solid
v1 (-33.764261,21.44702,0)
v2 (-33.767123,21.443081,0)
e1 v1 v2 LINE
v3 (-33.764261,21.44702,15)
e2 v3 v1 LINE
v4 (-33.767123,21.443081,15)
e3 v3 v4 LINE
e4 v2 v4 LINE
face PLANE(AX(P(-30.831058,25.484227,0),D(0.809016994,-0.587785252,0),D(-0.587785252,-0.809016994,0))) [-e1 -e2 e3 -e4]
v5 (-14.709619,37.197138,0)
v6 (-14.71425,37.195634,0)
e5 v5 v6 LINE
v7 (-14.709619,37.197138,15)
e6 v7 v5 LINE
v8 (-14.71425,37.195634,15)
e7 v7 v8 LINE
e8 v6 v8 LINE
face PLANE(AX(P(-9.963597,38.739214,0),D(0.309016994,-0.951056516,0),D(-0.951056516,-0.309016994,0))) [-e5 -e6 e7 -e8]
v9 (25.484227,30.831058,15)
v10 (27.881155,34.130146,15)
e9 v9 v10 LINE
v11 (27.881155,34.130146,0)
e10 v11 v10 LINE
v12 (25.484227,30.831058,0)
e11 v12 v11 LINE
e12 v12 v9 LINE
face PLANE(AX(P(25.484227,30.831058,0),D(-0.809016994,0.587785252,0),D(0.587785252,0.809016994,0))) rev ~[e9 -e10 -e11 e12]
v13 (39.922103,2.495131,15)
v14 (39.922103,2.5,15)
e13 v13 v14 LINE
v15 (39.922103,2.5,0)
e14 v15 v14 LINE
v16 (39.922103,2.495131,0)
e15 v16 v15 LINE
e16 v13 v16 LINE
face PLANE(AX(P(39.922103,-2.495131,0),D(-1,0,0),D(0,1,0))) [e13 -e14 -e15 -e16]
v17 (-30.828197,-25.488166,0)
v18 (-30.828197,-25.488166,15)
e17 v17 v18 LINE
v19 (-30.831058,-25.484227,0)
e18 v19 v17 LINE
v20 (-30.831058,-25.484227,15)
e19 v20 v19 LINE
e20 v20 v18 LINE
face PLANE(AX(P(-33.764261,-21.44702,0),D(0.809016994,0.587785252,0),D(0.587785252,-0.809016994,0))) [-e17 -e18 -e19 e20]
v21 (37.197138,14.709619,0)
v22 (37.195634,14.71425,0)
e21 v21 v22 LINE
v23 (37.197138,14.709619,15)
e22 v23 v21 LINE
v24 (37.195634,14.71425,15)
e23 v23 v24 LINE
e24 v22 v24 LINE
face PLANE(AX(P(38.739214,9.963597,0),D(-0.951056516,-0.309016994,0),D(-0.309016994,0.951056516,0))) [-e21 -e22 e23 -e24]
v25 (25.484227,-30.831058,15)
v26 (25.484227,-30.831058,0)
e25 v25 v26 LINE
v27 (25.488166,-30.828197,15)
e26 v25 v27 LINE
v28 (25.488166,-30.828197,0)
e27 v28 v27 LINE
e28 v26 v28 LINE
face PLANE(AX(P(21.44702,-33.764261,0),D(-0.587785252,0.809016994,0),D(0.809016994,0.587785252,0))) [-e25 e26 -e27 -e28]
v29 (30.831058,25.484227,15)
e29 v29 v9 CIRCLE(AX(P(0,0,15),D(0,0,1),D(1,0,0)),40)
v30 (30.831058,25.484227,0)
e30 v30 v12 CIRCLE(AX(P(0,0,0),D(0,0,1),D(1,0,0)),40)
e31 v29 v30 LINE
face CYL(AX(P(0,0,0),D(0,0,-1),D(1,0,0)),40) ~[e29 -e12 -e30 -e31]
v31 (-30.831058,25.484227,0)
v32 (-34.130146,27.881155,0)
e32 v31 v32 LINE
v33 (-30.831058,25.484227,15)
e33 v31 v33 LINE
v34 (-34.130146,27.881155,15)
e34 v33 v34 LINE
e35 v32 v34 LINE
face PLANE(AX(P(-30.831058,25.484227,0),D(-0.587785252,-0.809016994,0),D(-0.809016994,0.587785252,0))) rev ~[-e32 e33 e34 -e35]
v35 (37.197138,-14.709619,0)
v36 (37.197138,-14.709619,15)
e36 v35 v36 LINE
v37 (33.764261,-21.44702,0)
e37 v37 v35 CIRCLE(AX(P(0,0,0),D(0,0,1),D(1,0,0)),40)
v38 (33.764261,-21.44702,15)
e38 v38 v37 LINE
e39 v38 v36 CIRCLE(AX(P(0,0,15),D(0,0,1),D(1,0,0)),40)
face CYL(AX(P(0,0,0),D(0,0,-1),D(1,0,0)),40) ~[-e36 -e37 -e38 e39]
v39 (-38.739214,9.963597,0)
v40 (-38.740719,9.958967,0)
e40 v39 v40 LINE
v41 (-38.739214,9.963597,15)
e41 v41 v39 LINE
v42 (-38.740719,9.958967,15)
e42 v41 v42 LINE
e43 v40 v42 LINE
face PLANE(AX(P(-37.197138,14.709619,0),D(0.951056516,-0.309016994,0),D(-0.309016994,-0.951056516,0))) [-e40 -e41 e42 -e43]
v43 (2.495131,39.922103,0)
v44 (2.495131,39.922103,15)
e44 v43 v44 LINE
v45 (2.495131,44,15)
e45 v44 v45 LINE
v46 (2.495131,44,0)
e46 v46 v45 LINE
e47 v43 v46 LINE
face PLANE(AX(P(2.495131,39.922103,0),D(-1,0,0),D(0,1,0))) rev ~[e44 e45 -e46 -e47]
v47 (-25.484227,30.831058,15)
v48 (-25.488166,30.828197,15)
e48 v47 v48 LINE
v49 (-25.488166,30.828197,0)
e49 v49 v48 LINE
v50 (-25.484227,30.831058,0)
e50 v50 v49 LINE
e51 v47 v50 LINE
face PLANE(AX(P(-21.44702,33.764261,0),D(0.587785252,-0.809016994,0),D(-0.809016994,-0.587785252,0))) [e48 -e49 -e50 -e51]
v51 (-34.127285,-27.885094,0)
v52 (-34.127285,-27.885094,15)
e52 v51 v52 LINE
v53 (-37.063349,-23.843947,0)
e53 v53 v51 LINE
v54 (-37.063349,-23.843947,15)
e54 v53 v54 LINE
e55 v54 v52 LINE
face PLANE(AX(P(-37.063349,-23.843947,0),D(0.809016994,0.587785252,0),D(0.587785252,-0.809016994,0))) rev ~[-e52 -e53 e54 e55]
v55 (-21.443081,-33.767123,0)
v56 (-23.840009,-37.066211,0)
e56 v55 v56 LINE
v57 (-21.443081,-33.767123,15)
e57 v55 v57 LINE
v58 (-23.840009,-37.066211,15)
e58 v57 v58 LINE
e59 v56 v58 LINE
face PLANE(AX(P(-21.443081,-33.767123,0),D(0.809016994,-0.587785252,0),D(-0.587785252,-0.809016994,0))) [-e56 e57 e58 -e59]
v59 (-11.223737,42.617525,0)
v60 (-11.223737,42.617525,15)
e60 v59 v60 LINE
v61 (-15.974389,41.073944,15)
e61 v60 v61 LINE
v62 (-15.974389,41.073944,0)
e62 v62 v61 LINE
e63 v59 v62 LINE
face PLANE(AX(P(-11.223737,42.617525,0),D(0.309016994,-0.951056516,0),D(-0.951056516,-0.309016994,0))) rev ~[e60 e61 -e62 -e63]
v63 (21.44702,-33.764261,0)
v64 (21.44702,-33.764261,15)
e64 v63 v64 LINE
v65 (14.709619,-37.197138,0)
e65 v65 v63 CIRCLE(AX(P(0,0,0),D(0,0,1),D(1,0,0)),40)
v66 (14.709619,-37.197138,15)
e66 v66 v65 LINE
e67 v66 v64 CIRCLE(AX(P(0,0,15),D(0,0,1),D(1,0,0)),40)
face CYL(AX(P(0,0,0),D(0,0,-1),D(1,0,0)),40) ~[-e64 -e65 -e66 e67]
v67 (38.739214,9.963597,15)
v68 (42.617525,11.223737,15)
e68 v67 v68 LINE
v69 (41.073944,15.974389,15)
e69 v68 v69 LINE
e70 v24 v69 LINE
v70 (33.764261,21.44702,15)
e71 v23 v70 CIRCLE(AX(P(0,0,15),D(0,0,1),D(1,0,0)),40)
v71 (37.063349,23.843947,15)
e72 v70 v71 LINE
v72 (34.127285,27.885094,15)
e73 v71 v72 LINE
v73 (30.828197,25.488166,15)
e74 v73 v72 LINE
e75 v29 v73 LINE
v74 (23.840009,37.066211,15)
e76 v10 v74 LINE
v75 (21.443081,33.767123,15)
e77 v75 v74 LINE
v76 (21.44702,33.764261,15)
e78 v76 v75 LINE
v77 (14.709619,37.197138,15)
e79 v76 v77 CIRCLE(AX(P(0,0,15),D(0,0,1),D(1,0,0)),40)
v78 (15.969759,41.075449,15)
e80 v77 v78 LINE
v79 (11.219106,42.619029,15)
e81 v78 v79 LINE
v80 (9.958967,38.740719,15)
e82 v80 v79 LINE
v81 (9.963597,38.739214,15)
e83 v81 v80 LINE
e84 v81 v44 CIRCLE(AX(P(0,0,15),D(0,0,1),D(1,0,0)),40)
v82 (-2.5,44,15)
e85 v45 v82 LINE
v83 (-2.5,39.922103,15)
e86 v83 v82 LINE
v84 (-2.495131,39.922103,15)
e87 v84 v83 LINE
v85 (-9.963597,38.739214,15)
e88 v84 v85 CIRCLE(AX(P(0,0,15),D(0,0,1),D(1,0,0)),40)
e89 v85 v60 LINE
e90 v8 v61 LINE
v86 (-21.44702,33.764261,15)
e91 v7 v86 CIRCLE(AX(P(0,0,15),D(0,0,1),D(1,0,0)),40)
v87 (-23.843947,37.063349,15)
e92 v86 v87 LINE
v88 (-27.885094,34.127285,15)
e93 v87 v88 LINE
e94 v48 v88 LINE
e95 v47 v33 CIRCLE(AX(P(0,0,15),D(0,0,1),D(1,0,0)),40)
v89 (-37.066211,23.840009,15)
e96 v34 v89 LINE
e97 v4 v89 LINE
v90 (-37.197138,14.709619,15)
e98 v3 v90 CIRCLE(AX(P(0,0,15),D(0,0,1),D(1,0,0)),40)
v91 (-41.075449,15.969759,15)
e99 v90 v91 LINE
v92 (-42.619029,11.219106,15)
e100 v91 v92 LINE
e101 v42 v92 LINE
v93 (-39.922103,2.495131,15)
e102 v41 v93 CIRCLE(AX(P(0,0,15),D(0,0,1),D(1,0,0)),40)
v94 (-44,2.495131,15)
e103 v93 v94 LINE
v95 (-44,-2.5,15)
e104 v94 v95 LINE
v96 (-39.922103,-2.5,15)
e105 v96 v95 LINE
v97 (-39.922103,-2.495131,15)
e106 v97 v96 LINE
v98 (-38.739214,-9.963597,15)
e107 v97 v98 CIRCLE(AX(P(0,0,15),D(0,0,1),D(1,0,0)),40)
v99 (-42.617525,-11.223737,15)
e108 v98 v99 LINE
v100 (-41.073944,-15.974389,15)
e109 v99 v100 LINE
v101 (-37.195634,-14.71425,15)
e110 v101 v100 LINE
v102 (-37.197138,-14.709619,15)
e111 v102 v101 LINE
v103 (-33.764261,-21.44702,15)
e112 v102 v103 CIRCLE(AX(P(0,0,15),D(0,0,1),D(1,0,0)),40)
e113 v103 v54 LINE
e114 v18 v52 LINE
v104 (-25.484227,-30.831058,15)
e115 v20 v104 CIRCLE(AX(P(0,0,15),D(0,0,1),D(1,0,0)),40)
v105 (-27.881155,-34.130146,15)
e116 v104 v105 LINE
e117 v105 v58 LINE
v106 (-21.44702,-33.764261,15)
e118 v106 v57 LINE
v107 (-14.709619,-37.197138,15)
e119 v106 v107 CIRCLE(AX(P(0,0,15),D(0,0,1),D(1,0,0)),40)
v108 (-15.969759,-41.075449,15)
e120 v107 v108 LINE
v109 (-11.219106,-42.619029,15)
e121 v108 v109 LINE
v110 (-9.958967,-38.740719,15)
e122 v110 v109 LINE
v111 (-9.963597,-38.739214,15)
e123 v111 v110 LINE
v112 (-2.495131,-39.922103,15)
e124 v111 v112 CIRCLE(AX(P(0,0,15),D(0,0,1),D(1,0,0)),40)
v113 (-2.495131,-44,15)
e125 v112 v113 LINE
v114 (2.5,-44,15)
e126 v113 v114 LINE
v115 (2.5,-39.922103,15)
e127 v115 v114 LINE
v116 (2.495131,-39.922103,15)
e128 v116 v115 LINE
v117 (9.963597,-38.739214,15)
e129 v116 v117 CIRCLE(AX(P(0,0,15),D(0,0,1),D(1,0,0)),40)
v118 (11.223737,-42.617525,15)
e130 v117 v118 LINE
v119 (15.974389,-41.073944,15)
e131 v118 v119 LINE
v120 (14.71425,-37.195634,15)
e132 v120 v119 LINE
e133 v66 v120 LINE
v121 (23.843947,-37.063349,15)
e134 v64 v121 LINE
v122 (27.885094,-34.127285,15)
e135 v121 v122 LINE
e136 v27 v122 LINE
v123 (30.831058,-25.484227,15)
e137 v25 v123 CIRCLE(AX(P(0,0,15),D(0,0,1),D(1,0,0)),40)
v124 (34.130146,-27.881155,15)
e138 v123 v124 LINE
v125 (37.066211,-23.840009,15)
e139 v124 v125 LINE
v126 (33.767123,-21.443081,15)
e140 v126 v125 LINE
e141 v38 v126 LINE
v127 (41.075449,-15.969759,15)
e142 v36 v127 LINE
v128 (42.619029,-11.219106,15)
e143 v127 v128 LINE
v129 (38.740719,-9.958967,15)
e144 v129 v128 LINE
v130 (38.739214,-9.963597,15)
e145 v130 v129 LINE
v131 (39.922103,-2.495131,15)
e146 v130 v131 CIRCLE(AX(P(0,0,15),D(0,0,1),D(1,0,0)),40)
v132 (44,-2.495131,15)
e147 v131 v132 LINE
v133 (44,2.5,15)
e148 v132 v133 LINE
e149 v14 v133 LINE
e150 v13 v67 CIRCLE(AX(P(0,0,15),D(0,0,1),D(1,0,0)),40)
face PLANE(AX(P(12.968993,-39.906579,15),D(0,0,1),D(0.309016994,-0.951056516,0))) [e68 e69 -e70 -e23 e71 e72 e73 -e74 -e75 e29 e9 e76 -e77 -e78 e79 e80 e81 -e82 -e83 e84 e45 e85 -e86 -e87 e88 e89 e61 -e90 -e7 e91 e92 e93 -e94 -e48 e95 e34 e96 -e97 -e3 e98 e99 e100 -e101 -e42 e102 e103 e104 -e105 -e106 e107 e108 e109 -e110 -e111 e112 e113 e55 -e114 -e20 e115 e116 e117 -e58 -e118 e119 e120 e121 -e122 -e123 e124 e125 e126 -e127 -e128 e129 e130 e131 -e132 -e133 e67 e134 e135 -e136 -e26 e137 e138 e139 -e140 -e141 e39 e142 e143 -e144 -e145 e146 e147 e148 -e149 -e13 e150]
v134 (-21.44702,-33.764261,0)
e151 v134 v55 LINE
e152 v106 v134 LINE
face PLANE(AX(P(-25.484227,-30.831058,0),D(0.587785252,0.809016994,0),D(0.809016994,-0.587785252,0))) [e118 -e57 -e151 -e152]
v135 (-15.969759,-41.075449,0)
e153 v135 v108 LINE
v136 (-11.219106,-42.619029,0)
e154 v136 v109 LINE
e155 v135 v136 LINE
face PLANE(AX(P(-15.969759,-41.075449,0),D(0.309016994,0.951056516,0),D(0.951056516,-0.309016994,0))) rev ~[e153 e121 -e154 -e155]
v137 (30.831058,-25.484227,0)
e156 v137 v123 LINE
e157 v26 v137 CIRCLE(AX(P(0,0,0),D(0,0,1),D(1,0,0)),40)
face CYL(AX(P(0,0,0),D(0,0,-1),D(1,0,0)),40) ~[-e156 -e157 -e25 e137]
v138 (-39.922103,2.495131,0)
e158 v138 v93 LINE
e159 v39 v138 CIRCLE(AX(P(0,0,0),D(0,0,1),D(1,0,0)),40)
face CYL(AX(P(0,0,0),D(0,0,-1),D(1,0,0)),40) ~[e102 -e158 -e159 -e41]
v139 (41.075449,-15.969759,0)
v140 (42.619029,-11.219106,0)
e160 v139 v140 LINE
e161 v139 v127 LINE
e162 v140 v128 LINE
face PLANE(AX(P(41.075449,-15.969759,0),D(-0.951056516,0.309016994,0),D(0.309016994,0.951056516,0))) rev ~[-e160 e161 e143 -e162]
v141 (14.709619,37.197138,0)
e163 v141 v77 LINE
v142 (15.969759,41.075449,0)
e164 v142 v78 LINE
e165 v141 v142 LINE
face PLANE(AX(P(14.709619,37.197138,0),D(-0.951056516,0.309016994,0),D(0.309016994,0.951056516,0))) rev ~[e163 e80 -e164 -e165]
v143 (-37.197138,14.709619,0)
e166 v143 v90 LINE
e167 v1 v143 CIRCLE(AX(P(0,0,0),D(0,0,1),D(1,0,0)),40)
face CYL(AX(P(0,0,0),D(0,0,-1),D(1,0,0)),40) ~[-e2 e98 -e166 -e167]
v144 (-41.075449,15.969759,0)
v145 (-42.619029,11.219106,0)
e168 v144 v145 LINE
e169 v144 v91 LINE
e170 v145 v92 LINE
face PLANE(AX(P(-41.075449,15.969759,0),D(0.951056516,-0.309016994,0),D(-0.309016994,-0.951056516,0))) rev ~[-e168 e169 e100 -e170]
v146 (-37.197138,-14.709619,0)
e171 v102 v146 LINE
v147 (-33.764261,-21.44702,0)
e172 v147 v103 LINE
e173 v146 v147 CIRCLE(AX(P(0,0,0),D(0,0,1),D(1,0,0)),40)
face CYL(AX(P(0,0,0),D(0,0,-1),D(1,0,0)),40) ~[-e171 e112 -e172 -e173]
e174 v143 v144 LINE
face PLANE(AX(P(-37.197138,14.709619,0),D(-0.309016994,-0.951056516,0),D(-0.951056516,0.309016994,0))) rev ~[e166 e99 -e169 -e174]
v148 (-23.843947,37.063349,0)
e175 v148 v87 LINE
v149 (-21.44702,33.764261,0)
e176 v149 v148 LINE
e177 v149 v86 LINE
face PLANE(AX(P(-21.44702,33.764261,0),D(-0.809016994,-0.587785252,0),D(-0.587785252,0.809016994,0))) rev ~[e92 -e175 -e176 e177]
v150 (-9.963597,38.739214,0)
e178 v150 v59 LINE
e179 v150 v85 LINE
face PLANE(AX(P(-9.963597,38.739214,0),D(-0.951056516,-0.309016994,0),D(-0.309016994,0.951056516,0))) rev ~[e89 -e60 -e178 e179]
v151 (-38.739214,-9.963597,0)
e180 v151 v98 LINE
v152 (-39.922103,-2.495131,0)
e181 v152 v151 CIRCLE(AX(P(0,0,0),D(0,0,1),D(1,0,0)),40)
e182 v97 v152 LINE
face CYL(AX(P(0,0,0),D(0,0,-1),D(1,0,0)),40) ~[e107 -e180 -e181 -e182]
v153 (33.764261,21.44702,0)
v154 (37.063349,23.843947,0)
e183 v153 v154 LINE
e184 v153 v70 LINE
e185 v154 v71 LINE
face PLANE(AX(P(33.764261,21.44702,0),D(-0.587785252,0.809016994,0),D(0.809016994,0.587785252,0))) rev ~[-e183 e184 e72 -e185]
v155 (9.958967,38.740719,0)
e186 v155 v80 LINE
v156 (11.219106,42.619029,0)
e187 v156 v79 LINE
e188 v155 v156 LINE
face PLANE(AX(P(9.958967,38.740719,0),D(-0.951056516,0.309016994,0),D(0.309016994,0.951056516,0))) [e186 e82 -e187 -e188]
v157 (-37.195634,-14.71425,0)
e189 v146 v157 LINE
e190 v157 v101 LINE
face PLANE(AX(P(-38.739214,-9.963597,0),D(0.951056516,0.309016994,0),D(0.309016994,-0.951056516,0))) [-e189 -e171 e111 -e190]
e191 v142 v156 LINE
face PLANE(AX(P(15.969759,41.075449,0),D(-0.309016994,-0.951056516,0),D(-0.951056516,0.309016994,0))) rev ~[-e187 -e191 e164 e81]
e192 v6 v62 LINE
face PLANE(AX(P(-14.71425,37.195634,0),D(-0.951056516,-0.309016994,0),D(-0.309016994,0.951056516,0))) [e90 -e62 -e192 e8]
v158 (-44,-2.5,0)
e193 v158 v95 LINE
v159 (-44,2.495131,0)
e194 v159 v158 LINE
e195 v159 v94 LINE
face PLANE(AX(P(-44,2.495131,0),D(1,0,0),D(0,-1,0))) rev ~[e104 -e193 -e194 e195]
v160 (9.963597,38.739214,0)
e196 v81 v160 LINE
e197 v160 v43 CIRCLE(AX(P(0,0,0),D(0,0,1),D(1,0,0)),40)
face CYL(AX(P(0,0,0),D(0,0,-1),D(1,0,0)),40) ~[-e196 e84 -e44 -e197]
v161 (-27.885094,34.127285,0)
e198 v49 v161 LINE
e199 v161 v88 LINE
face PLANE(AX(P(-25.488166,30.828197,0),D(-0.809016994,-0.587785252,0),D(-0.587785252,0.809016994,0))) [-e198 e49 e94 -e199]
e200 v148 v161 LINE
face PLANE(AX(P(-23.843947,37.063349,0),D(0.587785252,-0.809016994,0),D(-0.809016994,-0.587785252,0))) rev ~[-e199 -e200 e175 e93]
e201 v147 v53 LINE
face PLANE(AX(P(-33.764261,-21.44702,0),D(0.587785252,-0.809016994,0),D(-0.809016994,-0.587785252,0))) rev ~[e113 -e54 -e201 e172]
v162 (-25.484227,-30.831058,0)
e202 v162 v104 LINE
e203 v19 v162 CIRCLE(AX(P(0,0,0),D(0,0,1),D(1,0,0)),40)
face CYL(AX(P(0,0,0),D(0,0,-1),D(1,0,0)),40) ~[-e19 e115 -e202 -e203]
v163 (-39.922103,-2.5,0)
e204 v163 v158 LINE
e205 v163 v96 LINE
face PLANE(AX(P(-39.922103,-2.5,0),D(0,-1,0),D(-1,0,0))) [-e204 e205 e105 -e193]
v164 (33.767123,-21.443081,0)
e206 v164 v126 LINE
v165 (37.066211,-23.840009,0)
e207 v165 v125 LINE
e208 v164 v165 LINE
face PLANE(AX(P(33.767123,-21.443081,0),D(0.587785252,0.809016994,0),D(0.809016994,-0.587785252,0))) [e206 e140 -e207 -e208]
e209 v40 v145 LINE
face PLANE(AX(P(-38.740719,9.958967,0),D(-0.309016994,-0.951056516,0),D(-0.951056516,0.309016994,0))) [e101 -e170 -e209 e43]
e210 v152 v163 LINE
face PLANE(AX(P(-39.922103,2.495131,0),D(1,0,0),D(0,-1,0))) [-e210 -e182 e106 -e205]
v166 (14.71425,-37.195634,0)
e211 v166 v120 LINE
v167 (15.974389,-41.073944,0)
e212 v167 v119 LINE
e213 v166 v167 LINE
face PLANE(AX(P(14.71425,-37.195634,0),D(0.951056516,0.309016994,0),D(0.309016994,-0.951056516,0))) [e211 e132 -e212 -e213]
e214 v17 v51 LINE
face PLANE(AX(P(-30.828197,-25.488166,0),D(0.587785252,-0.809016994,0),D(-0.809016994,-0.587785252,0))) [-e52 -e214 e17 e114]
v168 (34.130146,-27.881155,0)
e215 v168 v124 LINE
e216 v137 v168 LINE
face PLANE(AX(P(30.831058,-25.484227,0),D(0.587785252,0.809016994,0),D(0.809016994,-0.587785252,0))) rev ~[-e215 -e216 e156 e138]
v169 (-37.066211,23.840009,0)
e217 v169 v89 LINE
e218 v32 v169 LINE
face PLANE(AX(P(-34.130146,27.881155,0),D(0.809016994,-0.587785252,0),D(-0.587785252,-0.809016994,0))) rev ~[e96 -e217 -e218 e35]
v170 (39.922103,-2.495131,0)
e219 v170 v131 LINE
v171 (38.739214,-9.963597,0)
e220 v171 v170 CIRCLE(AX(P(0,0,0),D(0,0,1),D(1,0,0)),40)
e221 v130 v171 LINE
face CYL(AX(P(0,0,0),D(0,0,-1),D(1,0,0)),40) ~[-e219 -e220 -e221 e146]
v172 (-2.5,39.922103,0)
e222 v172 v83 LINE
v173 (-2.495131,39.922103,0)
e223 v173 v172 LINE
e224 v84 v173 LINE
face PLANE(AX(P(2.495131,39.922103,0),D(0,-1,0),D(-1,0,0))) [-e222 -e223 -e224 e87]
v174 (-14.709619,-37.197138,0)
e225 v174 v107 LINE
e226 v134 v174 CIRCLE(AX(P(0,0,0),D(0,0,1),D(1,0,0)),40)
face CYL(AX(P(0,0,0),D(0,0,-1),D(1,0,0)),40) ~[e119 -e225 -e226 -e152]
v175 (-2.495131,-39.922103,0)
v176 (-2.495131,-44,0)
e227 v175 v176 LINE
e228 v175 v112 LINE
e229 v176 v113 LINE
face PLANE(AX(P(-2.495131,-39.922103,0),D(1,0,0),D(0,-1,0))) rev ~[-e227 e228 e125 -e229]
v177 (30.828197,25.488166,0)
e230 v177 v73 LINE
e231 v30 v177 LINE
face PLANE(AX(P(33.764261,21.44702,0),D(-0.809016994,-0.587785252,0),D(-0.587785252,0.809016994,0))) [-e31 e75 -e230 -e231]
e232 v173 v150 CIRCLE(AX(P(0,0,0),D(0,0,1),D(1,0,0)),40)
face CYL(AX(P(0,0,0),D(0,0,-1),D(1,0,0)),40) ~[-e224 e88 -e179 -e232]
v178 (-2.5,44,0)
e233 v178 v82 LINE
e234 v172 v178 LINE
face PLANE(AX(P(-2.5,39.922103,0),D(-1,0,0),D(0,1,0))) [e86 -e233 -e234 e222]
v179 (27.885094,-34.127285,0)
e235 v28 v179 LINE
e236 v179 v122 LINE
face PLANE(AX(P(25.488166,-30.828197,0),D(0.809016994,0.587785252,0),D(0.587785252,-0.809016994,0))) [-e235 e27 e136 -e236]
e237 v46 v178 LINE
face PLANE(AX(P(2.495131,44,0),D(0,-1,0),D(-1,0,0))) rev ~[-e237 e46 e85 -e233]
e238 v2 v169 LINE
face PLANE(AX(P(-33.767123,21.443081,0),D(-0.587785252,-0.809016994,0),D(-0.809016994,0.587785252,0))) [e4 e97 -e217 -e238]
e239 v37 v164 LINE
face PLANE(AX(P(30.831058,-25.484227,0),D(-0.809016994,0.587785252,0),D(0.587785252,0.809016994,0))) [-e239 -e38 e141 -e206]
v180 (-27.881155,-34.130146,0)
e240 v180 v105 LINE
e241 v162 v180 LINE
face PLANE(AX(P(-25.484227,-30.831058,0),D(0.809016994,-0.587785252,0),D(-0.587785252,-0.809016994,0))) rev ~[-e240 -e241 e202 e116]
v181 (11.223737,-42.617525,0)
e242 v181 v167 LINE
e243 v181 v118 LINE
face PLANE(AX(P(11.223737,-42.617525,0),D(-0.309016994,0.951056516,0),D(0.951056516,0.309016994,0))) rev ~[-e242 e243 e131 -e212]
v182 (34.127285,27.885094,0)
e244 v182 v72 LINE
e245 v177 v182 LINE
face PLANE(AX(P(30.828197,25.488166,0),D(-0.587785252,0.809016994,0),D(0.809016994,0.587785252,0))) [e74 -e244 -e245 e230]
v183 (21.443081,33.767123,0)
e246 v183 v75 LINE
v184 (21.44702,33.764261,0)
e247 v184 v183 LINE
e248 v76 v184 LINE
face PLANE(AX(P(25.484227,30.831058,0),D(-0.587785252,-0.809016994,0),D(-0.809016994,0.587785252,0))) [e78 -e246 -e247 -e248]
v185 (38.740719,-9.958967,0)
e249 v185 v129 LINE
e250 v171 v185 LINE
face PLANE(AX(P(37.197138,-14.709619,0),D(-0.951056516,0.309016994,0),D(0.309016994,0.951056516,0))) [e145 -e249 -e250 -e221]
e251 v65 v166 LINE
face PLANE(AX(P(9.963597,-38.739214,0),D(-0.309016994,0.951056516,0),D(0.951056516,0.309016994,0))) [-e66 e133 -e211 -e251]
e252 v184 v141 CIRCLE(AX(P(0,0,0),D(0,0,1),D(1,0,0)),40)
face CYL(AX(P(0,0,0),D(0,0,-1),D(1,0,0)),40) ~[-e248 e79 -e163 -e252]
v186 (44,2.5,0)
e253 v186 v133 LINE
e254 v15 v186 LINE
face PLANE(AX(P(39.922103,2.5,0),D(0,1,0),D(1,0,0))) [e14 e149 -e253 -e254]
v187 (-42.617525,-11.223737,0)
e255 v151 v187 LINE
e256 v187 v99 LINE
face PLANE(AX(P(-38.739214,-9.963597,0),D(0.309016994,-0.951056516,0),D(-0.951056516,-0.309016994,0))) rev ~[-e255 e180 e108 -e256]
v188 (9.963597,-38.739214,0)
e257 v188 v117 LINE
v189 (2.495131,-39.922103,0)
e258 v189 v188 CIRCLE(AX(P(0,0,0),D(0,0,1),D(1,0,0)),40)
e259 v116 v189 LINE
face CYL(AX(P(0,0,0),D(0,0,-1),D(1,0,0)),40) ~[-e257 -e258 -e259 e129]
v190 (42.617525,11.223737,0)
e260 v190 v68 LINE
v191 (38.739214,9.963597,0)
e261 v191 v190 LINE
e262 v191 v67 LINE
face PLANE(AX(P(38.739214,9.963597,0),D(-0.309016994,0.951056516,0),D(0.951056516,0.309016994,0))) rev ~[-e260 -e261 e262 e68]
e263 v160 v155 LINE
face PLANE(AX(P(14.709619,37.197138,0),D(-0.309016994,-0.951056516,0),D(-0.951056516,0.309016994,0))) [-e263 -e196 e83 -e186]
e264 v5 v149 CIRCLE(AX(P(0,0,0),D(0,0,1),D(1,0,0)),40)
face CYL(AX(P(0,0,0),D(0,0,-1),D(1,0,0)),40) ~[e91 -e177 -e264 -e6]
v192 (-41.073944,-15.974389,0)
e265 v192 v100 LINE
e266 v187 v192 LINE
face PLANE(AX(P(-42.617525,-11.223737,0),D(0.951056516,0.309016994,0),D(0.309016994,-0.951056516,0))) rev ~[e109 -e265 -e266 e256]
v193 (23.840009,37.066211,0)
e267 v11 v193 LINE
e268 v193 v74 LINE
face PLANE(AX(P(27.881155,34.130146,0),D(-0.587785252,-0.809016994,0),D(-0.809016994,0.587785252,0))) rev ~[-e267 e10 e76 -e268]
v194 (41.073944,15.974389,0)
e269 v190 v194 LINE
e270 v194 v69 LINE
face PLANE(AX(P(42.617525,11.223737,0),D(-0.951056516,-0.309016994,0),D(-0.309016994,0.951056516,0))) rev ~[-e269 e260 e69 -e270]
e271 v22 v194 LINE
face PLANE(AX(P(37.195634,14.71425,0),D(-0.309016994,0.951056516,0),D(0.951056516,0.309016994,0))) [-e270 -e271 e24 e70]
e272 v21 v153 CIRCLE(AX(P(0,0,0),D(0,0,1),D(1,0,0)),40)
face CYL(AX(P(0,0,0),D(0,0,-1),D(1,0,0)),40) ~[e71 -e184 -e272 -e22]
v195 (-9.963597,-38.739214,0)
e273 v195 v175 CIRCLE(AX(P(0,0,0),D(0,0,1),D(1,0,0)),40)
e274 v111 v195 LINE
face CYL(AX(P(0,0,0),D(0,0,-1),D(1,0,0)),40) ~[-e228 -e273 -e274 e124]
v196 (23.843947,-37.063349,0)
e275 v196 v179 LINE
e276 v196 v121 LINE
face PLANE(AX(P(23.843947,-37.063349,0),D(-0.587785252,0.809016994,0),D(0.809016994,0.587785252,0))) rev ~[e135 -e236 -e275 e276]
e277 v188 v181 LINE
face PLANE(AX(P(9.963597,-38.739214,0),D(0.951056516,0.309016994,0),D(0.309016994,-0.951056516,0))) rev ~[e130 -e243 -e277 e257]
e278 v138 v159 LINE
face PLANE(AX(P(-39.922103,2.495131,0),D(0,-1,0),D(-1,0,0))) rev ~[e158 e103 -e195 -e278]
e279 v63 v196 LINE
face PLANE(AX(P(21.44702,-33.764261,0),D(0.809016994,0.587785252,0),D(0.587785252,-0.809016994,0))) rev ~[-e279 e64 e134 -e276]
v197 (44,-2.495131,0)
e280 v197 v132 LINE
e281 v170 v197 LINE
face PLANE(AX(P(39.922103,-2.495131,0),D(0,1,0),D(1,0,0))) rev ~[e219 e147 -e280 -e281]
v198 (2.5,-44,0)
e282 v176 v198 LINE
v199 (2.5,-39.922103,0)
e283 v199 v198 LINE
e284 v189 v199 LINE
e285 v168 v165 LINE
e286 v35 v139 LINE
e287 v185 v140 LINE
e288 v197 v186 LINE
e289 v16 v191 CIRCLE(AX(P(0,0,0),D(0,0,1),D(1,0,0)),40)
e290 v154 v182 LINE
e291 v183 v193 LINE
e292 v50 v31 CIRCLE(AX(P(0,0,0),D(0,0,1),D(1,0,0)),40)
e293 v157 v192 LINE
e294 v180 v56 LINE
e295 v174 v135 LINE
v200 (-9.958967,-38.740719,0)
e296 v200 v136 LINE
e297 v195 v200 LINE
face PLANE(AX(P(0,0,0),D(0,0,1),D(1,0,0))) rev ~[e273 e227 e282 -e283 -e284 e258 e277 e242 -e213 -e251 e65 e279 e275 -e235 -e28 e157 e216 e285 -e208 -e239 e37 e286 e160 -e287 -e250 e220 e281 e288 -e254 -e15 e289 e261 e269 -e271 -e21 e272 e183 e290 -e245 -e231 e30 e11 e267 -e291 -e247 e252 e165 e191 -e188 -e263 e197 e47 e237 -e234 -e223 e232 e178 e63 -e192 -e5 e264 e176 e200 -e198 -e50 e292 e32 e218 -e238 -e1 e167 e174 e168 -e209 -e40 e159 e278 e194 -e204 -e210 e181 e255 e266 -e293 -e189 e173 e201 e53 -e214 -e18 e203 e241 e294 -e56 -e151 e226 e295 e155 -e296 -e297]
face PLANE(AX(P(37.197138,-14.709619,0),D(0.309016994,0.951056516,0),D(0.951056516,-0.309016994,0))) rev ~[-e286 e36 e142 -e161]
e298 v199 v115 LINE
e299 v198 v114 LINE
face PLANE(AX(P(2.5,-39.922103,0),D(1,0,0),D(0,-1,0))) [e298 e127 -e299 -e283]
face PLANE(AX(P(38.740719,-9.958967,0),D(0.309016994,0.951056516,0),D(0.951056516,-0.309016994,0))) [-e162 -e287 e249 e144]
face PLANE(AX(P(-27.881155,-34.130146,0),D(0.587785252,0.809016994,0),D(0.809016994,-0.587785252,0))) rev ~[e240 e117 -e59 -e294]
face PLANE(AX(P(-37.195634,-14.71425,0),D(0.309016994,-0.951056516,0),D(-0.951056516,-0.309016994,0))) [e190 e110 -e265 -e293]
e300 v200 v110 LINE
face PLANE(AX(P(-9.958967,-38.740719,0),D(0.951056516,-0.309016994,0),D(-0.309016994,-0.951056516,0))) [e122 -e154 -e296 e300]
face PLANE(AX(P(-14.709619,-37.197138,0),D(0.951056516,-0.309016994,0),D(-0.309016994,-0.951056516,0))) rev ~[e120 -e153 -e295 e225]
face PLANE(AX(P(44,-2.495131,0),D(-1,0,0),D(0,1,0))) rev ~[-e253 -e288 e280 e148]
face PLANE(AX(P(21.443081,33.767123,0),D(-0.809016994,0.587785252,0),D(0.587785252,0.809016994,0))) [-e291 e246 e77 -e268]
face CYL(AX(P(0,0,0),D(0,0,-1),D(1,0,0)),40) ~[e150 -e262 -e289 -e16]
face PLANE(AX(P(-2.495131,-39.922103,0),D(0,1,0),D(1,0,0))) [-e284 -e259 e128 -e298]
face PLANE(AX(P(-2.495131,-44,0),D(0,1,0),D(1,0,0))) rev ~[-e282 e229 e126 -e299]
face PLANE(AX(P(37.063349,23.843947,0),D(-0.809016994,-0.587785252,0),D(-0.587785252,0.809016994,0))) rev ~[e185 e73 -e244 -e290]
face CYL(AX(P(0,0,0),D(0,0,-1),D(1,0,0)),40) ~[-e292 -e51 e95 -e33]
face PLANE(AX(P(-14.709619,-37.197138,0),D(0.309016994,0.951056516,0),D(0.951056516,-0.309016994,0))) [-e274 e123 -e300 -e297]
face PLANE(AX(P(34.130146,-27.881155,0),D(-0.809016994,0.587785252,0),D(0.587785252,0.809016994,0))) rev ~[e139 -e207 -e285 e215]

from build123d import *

# Parameters (mm, degrees)
SKETCH_1_R               = 40
EXTRUDE_1_DEPTH          = 15
SKETCH_2_W               = 4.077896861
SKETCH_2_H               = 4.995131446
EXTRUDE_2_DEPTH          = 15
PATTERN_CIRCULAR_1_COUNT = 20


with BuildPart() as part:
    # 草图1 → 凸台-拉伸1 (new body)
    with BuildSketch(Plane.XY):
        Circle(SKETCH_1_R)
    extrude(amount=EXTRUDE_1_DEPTH)

    # 草图2 → 凸台-拉伸2 (add)
    with BuildSketch(Plane.XY):
        with Locations((41.96105157, 0.002434277)):
            Rectangle(SKETCH_2_W, SKETCH_2_H)
    extrude_2 = extrude(amount=EXTRUDE_2_DEPTH)

    # 阵列(圆周)1: 凸台-拉伸2 ×20 about axis
    pattern_circular_1_axis = Axis((0, 0, 15), (0, 0, -1))
    for i in range(1, PATTERN_CIRCULAR_1_COUNT):
        add(extrude_2.rotate(pattern_circular_1_axis, i * 360 / PATTERN_CIRCULAR_1_COUNT))


solid = part.part
